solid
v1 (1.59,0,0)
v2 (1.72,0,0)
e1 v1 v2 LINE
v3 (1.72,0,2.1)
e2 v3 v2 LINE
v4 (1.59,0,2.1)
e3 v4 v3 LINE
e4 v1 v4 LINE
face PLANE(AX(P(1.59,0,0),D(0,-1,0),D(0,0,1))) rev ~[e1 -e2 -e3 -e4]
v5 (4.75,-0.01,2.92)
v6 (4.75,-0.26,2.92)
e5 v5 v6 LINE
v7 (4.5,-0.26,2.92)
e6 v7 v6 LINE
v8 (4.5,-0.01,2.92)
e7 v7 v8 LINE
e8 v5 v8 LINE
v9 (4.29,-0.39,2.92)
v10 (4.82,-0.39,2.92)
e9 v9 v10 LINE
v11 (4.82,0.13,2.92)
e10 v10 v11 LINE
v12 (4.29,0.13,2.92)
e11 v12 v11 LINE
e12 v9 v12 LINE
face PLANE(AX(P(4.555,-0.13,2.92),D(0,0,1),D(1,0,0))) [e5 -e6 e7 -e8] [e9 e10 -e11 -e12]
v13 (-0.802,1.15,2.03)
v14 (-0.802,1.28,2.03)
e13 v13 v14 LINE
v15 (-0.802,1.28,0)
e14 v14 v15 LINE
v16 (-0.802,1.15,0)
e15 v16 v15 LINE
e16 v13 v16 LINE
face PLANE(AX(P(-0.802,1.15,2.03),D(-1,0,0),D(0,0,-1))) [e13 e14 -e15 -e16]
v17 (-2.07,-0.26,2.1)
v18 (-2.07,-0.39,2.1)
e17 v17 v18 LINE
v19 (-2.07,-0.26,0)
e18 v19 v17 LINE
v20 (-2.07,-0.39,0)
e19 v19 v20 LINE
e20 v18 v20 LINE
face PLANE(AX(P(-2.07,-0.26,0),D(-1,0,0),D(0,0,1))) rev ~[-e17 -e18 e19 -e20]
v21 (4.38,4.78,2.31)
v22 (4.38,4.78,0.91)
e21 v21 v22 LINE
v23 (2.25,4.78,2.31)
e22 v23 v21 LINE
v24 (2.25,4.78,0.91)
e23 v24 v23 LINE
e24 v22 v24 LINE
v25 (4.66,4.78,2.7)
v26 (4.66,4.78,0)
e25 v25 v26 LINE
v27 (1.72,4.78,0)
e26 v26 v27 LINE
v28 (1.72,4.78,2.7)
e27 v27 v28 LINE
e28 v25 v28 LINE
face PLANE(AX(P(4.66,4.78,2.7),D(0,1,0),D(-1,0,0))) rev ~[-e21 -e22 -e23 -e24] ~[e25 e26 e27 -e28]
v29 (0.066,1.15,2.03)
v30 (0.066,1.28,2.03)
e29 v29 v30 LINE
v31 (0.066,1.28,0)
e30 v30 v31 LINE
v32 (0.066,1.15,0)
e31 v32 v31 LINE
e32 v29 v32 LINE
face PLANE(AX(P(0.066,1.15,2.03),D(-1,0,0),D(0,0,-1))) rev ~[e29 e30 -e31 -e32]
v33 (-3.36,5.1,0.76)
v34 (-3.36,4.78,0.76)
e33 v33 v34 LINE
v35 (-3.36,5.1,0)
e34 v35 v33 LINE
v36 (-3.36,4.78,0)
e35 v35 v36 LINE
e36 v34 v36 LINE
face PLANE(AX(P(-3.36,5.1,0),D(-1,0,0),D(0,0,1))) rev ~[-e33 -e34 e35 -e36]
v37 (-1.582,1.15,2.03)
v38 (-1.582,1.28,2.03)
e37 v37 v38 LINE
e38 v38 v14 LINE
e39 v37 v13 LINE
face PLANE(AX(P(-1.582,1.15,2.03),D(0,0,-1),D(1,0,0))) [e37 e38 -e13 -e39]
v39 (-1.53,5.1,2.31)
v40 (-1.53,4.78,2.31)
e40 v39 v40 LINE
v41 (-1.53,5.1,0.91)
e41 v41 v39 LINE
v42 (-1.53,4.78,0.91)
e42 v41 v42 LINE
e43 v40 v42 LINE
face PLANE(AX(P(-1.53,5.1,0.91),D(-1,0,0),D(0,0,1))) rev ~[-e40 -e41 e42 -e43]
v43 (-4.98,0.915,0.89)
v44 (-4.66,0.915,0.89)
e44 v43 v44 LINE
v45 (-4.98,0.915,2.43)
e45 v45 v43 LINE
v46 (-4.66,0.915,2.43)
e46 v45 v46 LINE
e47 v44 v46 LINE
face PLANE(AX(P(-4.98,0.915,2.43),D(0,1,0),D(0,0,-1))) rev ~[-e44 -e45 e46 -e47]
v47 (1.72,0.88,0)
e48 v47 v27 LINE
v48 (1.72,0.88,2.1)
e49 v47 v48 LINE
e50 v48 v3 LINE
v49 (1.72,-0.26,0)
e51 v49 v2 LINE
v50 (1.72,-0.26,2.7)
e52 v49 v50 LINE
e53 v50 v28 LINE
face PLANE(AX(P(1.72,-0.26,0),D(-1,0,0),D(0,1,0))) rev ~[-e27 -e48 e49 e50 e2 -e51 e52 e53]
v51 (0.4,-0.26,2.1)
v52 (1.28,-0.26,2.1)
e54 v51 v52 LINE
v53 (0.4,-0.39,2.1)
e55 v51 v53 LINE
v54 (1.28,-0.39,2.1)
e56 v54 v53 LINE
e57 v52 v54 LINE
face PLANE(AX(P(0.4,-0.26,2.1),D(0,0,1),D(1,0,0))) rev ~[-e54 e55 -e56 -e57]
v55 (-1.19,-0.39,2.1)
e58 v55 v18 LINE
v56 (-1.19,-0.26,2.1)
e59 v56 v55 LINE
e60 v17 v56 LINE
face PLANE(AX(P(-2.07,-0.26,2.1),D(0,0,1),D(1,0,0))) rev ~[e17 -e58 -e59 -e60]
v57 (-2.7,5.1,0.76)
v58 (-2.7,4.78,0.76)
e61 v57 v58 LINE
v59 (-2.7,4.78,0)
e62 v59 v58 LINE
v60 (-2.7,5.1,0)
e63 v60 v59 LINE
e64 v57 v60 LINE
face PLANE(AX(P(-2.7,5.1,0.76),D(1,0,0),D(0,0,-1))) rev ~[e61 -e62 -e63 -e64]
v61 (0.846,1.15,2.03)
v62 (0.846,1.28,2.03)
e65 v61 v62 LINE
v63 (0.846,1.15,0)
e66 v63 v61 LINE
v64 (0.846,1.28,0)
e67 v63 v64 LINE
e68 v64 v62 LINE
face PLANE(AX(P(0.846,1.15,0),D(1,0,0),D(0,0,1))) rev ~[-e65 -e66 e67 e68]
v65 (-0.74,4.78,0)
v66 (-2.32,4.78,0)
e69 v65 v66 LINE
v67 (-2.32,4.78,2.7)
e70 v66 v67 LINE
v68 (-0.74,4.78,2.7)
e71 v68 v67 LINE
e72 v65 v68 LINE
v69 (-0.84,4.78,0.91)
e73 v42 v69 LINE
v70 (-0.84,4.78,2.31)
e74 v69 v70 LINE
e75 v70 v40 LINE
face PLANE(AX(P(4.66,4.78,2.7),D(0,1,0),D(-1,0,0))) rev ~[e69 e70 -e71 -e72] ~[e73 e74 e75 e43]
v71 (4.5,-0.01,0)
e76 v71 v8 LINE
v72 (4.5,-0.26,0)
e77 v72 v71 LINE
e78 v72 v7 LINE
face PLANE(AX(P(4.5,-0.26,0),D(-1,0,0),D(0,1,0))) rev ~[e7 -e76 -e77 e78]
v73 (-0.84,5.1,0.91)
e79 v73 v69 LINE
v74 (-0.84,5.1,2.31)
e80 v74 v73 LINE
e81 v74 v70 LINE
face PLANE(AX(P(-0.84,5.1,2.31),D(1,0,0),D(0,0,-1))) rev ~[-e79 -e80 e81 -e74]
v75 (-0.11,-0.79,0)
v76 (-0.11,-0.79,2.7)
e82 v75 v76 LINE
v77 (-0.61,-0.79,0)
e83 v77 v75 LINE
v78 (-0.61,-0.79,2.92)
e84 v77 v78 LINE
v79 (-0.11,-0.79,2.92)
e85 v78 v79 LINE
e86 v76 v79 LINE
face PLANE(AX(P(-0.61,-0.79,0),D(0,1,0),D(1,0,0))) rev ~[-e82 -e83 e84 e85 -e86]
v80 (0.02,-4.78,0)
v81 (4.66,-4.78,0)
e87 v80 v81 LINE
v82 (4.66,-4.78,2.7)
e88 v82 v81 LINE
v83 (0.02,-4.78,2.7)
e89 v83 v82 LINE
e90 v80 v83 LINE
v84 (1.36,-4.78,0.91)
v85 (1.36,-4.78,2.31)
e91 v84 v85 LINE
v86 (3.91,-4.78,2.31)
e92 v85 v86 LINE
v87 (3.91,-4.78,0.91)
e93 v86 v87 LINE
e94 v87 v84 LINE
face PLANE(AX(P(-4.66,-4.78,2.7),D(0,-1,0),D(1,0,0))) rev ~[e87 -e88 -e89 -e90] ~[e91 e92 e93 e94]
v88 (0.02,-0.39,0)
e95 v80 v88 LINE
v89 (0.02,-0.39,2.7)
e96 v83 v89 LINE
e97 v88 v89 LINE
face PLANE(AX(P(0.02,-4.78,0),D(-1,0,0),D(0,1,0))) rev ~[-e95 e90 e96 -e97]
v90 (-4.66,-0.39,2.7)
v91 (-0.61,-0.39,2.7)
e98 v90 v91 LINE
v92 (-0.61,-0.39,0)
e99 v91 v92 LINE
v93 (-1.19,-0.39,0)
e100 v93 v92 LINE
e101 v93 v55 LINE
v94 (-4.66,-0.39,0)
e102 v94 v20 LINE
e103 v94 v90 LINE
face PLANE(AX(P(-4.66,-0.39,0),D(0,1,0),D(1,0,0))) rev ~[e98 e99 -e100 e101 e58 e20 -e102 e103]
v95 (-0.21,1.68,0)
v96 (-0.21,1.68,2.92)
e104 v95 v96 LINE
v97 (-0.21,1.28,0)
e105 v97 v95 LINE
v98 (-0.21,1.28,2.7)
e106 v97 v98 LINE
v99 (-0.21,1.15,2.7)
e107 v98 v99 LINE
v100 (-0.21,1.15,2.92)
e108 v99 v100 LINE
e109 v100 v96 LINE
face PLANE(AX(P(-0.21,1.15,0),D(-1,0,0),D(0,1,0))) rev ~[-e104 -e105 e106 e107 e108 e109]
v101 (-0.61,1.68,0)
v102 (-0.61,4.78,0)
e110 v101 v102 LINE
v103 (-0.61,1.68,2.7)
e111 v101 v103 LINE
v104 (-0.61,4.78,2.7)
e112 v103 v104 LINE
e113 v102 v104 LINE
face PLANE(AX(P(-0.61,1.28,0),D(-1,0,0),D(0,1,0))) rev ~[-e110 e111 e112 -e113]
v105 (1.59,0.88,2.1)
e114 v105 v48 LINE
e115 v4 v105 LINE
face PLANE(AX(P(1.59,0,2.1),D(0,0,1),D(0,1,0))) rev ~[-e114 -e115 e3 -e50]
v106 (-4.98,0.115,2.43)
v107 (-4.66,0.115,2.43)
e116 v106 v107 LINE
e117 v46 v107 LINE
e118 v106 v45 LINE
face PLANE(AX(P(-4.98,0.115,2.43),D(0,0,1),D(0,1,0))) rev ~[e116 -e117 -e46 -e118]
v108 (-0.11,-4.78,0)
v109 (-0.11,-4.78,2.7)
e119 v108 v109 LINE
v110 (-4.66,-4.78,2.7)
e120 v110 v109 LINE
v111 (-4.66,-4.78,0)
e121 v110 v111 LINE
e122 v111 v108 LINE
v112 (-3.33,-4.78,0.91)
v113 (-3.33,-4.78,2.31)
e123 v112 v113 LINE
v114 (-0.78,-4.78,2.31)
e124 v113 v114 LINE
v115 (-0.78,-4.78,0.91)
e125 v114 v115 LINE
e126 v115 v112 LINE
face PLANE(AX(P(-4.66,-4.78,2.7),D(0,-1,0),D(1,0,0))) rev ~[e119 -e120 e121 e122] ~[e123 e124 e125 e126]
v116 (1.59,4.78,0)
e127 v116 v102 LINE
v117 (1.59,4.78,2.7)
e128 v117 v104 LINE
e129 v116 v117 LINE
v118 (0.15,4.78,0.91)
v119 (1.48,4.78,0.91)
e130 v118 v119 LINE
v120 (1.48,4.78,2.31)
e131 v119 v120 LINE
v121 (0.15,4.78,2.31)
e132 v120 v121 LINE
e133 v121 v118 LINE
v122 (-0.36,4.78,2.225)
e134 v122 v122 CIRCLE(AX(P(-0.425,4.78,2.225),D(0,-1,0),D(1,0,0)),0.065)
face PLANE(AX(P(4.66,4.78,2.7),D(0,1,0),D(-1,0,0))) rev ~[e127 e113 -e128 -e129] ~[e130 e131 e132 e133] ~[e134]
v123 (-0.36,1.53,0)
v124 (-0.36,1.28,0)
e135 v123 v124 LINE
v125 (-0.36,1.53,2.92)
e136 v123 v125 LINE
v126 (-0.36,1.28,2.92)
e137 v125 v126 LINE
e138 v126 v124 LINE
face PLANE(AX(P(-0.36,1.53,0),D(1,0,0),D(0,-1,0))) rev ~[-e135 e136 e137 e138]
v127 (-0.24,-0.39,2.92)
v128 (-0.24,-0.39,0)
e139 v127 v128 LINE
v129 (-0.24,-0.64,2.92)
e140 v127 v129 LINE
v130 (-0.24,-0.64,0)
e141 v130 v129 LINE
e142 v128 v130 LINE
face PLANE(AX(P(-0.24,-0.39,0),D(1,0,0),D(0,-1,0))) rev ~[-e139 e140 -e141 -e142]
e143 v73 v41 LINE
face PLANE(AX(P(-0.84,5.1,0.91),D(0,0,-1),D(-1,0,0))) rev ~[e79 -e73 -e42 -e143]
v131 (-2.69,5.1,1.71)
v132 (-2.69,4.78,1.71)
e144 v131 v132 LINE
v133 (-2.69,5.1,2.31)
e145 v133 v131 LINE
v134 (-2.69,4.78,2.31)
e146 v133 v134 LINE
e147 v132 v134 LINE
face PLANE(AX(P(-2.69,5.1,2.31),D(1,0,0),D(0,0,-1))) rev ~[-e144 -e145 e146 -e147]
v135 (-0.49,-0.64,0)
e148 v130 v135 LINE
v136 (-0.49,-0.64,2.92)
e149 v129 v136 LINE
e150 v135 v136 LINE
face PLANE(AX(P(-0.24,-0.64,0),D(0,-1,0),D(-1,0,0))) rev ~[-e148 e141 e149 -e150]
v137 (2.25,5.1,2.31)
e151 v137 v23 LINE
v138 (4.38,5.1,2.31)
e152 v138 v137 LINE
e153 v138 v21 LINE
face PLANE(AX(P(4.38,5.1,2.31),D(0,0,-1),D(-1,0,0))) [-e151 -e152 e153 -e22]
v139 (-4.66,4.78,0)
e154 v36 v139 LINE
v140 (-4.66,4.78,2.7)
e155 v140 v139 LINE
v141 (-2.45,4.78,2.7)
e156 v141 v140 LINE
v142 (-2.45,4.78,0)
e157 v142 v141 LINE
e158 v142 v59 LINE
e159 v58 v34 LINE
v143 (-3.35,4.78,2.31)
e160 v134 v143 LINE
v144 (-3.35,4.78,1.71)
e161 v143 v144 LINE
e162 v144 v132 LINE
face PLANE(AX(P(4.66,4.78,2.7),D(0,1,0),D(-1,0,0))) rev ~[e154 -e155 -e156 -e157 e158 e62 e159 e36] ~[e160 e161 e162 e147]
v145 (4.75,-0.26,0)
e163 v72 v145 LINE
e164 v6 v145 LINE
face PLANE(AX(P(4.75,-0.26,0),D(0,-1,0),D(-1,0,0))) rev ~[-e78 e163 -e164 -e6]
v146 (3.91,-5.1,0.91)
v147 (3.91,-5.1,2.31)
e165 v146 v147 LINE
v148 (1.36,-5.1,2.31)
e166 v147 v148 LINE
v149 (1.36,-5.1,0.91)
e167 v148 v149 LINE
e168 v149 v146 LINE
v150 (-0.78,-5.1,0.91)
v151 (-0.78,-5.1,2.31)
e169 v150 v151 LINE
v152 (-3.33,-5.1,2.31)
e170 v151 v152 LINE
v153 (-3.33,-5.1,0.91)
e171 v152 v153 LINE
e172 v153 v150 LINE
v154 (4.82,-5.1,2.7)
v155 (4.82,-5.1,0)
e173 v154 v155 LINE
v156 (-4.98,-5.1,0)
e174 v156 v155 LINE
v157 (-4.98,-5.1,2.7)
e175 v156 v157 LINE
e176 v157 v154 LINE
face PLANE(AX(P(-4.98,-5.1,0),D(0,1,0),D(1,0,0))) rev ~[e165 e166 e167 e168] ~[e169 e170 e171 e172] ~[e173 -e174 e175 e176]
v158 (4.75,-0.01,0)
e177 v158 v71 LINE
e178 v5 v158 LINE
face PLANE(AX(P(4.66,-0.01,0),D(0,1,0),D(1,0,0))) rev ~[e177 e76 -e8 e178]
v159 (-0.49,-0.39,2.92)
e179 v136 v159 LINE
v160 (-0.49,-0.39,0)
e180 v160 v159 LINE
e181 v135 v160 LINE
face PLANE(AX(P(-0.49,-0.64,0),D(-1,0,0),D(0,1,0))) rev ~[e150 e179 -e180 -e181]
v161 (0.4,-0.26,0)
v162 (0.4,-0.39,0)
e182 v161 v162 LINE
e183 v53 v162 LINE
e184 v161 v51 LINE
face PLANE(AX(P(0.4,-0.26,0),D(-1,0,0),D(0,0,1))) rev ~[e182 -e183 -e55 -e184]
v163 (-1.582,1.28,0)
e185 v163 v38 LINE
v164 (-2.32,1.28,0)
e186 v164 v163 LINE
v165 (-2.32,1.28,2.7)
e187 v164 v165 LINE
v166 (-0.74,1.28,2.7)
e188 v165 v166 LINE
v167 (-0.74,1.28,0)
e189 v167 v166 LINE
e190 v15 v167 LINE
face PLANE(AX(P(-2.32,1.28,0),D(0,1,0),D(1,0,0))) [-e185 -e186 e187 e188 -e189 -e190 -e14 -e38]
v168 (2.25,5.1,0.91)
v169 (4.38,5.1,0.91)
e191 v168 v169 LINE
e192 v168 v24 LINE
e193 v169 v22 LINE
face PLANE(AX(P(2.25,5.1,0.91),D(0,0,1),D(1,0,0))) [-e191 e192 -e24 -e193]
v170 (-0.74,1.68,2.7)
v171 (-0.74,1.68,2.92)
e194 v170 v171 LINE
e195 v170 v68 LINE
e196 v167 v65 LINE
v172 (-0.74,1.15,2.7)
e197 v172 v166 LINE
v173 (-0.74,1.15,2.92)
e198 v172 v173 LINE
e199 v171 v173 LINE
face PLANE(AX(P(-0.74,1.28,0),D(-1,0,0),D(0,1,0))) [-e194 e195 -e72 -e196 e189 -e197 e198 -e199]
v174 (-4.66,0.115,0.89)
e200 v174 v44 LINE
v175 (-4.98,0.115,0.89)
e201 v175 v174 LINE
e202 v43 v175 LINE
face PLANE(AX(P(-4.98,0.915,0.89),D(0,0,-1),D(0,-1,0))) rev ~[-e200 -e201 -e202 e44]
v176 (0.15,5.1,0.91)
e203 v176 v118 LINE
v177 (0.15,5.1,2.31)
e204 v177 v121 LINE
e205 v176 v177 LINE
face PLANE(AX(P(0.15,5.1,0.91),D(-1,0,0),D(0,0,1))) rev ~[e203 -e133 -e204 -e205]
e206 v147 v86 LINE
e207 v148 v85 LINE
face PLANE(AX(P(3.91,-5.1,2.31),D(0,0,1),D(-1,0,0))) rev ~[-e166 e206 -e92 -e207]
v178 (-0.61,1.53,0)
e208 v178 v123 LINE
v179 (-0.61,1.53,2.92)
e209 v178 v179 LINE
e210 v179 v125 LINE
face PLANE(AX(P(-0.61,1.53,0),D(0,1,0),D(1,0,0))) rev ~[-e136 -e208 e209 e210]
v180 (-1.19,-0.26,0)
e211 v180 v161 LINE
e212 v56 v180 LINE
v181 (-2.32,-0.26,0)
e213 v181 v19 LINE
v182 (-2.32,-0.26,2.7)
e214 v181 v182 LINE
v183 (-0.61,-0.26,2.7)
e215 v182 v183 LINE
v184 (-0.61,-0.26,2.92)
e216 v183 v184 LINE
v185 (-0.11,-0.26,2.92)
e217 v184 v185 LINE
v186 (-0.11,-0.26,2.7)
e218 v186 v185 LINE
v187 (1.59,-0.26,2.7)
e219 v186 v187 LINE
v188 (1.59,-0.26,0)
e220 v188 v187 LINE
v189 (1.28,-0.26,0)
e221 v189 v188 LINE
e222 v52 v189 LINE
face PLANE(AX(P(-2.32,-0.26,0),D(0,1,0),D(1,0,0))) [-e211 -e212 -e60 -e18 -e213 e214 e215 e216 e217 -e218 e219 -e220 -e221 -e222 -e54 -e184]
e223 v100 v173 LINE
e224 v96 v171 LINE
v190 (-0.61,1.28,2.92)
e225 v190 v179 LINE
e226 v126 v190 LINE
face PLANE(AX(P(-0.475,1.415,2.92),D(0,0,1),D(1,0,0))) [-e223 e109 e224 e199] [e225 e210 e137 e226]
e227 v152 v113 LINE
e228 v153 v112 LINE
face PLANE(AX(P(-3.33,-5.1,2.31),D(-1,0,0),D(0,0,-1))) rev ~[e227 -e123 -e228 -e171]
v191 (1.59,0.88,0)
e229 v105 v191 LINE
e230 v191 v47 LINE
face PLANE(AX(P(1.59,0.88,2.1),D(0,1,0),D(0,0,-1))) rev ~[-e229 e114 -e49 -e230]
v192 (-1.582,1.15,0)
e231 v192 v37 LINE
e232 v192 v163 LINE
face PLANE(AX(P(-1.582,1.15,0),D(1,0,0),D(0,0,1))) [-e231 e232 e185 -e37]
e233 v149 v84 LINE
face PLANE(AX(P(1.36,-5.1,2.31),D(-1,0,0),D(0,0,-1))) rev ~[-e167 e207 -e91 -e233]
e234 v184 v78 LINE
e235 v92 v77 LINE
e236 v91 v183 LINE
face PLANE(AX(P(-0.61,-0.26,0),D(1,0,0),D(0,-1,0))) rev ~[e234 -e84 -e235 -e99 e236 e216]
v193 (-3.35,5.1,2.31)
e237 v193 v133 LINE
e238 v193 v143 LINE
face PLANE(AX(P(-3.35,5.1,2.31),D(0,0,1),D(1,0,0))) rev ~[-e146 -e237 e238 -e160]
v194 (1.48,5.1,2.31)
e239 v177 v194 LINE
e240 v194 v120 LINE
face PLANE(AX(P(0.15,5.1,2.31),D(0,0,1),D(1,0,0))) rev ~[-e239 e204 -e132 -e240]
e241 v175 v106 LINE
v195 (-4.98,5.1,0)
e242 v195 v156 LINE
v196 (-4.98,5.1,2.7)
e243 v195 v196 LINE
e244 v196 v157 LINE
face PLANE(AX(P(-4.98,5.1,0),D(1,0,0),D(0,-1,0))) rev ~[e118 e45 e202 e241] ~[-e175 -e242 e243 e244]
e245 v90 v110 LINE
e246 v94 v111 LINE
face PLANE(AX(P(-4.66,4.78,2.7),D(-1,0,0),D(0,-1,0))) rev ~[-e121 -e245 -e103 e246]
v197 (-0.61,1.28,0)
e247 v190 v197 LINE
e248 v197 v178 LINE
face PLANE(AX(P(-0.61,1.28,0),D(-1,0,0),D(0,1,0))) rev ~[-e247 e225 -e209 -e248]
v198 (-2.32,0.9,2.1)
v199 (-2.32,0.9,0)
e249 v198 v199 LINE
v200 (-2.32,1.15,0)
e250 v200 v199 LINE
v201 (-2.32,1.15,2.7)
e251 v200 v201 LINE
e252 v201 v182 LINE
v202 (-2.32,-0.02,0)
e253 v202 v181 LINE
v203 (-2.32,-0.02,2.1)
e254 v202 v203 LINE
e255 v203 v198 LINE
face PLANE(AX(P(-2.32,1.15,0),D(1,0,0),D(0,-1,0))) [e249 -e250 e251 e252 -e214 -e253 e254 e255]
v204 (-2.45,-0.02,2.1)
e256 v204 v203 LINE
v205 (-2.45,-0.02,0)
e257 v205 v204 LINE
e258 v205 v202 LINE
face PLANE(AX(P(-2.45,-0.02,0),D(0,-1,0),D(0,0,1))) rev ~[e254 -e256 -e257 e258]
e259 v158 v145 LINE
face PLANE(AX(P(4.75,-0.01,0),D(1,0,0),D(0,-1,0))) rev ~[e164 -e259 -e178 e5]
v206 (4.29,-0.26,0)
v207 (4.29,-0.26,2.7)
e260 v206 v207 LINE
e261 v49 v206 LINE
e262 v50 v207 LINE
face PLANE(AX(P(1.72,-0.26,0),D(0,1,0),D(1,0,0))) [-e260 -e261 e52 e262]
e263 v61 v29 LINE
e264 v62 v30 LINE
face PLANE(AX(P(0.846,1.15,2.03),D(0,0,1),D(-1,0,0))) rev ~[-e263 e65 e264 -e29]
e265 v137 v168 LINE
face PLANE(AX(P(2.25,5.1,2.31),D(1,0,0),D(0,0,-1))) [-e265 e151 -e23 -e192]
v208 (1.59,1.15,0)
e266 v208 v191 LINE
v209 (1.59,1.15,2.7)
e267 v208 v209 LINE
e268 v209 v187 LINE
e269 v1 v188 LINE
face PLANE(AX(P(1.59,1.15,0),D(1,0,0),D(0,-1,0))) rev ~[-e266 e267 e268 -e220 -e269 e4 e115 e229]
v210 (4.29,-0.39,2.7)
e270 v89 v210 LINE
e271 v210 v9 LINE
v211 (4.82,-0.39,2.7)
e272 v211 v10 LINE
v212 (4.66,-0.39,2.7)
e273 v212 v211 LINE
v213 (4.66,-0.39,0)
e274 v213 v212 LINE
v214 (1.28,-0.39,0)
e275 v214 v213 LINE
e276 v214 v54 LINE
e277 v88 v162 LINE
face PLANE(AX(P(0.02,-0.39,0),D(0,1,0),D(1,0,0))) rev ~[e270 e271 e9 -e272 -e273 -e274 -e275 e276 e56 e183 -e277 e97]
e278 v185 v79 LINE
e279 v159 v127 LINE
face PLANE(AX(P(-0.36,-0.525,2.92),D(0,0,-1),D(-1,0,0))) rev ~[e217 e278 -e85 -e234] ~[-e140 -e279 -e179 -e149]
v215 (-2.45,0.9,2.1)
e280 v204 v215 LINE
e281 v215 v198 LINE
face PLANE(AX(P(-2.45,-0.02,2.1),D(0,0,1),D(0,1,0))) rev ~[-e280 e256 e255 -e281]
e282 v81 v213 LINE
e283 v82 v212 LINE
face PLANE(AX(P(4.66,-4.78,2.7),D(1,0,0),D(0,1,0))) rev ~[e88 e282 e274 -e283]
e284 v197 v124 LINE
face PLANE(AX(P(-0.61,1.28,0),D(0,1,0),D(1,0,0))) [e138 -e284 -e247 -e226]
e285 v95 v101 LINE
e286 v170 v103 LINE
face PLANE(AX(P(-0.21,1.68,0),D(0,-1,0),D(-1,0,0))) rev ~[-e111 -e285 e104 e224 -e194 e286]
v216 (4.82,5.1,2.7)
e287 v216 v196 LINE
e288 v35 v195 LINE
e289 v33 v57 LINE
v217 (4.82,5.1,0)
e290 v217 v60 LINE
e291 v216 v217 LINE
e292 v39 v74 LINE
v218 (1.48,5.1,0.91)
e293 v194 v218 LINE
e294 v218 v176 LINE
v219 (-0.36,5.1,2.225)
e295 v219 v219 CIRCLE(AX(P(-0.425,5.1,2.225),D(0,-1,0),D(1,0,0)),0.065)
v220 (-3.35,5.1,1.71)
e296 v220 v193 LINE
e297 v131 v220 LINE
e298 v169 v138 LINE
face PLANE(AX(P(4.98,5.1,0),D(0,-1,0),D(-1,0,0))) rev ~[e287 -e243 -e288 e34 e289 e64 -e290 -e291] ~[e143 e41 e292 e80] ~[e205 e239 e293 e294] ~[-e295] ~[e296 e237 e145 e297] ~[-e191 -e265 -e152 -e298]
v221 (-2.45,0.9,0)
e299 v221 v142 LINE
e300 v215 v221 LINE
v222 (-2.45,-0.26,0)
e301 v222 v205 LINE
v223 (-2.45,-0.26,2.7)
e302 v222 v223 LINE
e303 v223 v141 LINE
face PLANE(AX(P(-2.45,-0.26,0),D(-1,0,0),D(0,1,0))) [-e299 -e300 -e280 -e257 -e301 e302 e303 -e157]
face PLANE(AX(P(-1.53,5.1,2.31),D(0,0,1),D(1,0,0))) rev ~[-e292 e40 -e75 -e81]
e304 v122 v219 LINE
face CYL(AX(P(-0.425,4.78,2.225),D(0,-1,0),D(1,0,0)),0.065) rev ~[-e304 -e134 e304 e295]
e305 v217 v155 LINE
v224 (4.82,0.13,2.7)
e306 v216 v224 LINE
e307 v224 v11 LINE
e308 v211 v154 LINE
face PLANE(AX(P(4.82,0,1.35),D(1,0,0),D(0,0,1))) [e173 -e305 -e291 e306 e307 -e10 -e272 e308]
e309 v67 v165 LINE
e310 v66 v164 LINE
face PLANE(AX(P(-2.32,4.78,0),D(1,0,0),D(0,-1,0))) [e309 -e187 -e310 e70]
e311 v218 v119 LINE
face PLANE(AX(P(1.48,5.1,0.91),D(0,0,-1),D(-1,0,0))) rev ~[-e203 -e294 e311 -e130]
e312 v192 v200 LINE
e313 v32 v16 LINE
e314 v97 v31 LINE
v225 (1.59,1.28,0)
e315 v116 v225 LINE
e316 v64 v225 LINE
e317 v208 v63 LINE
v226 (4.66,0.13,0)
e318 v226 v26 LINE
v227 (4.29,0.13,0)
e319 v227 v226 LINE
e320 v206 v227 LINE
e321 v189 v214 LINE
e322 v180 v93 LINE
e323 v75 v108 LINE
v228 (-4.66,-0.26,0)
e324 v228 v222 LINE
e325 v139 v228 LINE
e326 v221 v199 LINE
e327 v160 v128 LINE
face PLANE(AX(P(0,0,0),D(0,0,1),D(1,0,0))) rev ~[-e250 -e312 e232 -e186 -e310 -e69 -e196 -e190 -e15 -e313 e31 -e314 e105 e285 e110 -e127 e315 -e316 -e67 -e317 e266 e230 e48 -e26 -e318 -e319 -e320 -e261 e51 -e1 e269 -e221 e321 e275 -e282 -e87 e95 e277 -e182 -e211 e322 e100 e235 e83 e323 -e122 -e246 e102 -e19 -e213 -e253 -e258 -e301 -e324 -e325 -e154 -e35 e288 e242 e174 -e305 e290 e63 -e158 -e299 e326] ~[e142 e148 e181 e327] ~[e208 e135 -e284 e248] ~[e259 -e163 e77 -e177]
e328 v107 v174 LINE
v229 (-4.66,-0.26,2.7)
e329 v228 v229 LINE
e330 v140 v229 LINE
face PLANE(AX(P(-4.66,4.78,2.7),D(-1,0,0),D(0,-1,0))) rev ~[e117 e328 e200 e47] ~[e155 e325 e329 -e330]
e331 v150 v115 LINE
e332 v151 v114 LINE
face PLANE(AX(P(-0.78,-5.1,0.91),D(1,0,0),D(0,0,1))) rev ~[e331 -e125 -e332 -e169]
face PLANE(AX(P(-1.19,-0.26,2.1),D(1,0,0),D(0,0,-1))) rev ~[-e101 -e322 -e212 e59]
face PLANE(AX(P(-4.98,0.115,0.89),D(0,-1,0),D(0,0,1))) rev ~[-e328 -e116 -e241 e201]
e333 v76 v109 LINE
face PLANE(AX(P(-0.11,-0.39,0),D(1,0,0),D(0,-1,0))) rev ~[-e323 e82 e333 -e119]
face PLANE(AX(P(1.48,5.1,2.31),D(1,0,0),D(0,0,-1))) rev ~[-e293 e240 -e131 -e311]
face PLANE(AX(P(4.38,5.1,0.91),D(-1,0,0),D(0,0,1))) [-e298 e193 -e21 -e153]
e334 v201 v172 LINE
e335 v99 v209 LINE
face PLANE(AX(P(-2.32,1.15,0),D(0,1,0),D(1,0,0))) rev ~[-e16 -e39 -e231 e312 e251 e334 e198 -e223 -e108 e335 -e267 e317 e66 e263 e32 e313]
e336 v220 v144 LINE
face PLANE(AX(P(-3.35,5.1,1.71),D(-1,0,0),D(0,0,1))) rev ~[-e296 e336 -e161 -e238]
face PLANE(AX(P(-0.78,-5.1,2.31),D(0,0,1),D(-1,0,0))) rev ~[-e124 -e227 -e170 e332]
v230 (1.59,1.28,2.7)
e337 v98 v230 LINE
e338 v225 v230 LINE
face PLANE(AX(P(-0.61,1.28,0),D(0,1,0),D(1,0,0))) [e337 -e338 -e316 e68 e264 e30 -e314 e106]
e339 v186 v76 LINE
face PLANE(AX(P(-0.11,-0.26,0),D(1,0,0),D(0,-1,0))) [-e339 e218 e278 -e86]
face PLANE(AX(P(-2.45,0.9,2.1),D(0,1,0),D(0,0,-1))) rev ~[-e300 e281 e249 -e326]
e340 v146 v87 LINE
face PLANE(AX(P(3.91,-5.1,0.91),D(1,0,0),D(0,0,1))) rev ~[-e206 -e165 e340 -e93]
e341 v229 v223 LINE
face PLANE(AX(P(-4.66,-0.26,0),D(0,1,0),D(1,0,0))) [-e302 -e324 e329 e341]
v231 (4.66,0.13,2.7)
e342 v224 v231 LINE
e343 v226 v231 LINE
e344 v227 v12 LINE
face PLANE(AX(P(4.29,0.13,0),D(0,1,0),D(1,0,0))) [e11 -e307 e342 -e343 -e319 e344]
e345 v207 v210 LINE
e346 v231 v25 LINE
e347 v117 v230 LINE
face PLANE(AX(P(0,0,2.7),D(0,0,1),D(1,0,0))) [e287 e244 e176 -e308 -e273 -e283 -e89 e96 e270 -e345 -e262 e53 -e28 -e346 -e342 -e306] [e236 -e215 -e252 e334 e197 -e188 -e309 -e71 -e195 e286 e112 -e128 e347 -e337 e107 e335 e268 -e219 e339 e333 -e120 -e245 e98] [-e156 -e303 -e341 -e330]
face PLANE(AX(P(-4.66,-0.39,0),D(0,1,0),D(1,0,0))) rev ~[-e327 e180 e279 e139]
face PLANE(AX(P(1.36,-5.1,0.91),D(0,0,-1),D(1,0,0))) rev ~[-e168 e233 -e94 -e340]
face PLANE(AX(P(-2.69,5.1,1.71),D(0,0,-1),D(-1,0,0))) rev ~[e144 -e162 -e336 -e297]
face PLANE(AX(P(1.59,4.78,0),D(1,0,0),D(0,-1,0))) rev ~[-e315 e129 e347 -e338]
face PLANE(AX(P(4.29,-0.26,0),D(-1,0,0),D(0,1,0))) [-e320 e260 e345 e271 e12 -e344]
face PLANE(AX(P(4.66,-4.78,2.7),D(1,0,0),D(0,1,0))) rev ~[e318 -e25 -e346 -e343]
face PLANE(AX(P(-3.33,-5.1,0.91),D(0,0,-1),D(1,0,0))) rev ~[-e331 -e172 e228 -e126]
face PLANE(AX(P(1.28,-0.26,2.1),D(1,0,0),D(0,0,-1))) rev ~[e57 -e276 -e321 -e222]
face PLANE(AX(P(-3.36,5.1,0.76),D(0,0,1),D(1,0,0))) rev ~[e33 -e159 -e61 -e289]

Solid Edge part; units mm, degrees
sketch "Sketch1" plane through (0, 0, 0) normal (0, 0, 1) x (1, 0, 0)
  line L0 (-4.98, -5.1) -> (4.98, -5.1)
  line L1 (4.98, -5.1) -> (4.98, 5.1)
  line L2 (4.98, 5.1) -> (-4.98, 5.1)
  line L3 (-4.98, 5.1) -> (-4.98, -5.1)
  dimension "D1" = 9.96
  dimension "D2" = 10.2
extrude "Protrusion1" add sketch "Sketch1" along normal blind 2.7
sketch "Sketch2" plane through (0, 0, 2.7) normal (0, 0, 1) x (1, 0, 0)
  line L0 (-4.66, 4.78) -> (-4.66, -4.78)
  line L1 (-4.66, -4.78) -> (4.66, -4.78)
  line L2 (4.66, -4.78) -> (4.66, 4.78)
  line L3 (4.66, 4.78) -> (-4.66, 4.78)
extrude "Cutout1" cut sketch "Sketch2" against normal through all
sketch "Sketch3" plane through (4.98, 0, 1.35) normal (1, 0, 0) x (0, 1, 0)
  line L0 (-5.1, 1.35) -> (-5.1, -1.35)
  line L1 (5.1, -1.35) -> (-5.1, -1.35)
  line L2 (5.1, 1.35) -> (5.1, -1.35)
  line L3 (5.1, 1.35) -> (-5.1, 1.35)
extrude "Ausschnitt_2" cut sketch "Sketch3" against normal blind 0.16
sketch "Sketch4" plane through (0, 0, 0) normal (0, 0, 1) x (1, 0, 0)
  line L0 (-2.32, -0.26) -> (1.59, -0.26)
  line L1 (1.59, 1.15) -> (1.59, -0.26)
  line L2 (-2.32, 1.15) -> (1.59, 1.15)
  line L3 (-2.32, 1.15) -> (-2.32, -0.26)
  line L4 (-4.66, -0.26) -> (-4.66, -0.39)
  line L5 (-4.66, -0.39) -> (-0.11, -0.39)
  line L6 (-0.11, -0.39) -> (-0.11, -4.78)
  line L7 (-0.11, -4.78) -> (0.02, -4.78)
  line L8 (0.02, -4.78) -> (0.02, -0.39)
  line L9 (0.02, -0.39) -> (4.66, -0.39)
  line L10 (4.66, -0.39) -> (4.66, -0.26)
  line L11 (1.72, -0.26) -> (4.66, -0.26)
  line L12 (1.72, -0.26) -> (1.72, 4.78)
  line L13 (1.72, 4.78) -> (1.59, 4.78)
  line L14 (1.59, 4.78) -> (1.59, 1.28)
  line L15 (-0.61, 1.28) -> (1.59, 1.28)
  line L16 (-0.61, 1.28) -> (-0.61, 4.78)
  line L17 (-0.61, 4.78) -> (-0.74, 4.78)
  line L18 (-0.74, 1.28) -> (-0.74, 4.78)
  line L19 (-2.32, 1.28) -> (-0.74, 1.28)
  line L20 (-2.32, 4.78) -> (-2.32, 1.28)
  line L21 (-2.32, 4.78) -> (-2.45, 4.78)
  line L22 (-2.45, -0.26) -> (-2.45, 4.78)
  line L23 (-4.66, -0.26) -> (-2.45, -0.26)
  dimension "D1" = 0.13
  dimension "D2" = 4.64
  dimension "D3" = 4.39
  dimension "D4" = 2.94
  dimension "D5" = 2.2
  dimension "D6" = 1.58
  dimension "D7" = 3.5
  dimension "D8" = 2.21
extrude "Protrusion2" add sketch "Sketch4" along normal up to surface (2.7 mm away)
sketch "Sketch5" plane through (0, 0, 0) normal (0, 0, 1) x (1, 0, 0)
  line L0 (-0.61, -0.26) -> (-0.11, -0.26)
  line L1 (-0.11, -0.26) -> (-0.11, -0.79)
  line L2 (-0.61, -0.79) -> (-0.11, -0.79)
  line L3 (-0.61, -0.26) -> (-0.61, -0.79)
  line L4 (-0.49, -0.39) -> (-0.24, -0.39)
  line L5 (-0.24, -0.39) -> (-0.24, -0.64)
  line L6 (-0.24, -0.64) -> (-0.49, -0.64)
  line L7 (-0.49, -0.64) -> (-0.49, -0.39)
  line L8 (-0.36, 1.28) -> (-0.61, 1.28)
  line L9 (-0.61, 1.28) -> (-0.61, 1.53)
  line L10 (-0.61, 1.53) -> (-0.36, 1.53)
  line L11 (-0.36, 1.53) -> (-0.36, 1.28)
  line L12 (-0.21, 1.15) -> (-0.21, 1.68)
  line L13 (-0.21, 1.68) -> (-0.74, 1.68)
  line L14 (-0.74, 1.68) -> (-0.74, 1.15)
  line L15 (-0.21, 1.15) -> (-0.74, 1.15)
  line L16 (4.5, -0.26) -> (4.29, -0.26)
  line L17 (4.29, -0.26) -> (4.29, 0.13)
  line L18 (4.29, 0.13) -> (4.66, 0.13)
  line L19 (4.66, -0.01) -> (4.66, 0.13)
  line L20 (4.5, -0.01) -> (4.66, -0.01)
  line L21 (4.5, -0.26) -> (4.5, -0.01)
  dimension "D1" = 0.25
  dimension "D2" = 0.25
  dimension "D3" = 0.25
  dimension "D4" = 0.16
  dimension "D5" = 0.39
  dimension "D6" = 0.37
  dimension "D7" = 0.4
  dimension "D8" = 0.4
  dimension "D9" = 0.5
  dimension "D10" = 0.4
extrude "Schornstein" add sketch "Sketch5" along normal blind 2.92
sketch "Sketch6" plane through (-0.08, 0, 2.7) normal (0, 0, 1) x (1, 0, 0)
  line L0 (4.37, -0.39) -> (4.9, -0.39)
  line L1 (4.9, -0.39) -> (4.9, 0.13)
  line L2 (4.9, 0.13) -> (4.37, 0.13)
  line L3 (4.37, 0.13) -> (4.37, -0.39)
  line L4 (4.58, -0.26) -> (4.58, -0.01)
  line L5 (4.58, -0.01) -> (4.83, -0.01)
  line L6 (4.83, -0.01) -> (4.83, -0.26)
  line L7 (4.83, -0.26) -> (4.58, -0.26)
extrude "Protrusion3" add sketch "Sketch6" along normal up to surface (0.22 mm away)
sketch "Sketch7" plane through (0, 0, 0) normal (0, 0, 1) x (1, 0, 0)
  line L0 (4.66, -0.26) -> (4.66, -0.01)
  line L1 (4.66, -0.01) -> (4.75, -0.01)
  line L2 (4.75, -0.01) -> (4.75, -0.26)
  line L3 (4.75, -0.26) -> (4.66, -0.26)
extrude "Cutout2" cut sketch "Sketch7" along normal through all
sketch "Sketch8" plane through (-0.08, -5.1, 1.35) normal (0, -1, 0) x (1, 0, 0)
  line L0 (1.44, -0.44) -> (3.99, -0.44)
  line L1 (3.99, -0.44) -> (3.99, 0.96)
  line L2 (3.99, 0.96) -> (1.44, 0.96)
  line L3 (1.44, 0.96) -> (1.44, -0.44)
  line L4 (-3.25, -0.44) -> (-0.7, -0.44)
  line L5 (-0.7, -0.44) -> (-0.7, 0.96)
  line L6 (-0.7, 0.96) -> (-3.25, 0.96)
  line L7 (-3.25, 0.96) -> (-3.25, -0.44)
  dimension "D1" = 2.55
  dimension "D2" = 1.4
  dimension "D3" = 0.91
  dimension "D4" = 1.33
  dimension "D5" = 0.75
extrude "Cutout3" cut sketch "Sketch8" against normal up to next
sketch "Sketch9" plane through (-0.08, 5.1, 1.35) normal (0, 1, 0) x (-1, 0, 0)
  line L0 (-1.56, -0.44) -> (-0.23, -0.44)
  line L1 (-0.23, -0.44) -> (-0.23, 0.96)
  line L2 (-0.23, 0.96) -> (-1.56, 0.96)
  line L3 (-1.56, 0.96) -> (-1.56, -0.44)
  line L4 (0.76, -0.44) -> (1.45, -0.44)
  line L5 (1.45, -0.44) -> (1.45, 0.96)
  line L6 (1.45, 0.96) -> (0.76, 0.96)
  line L7 (0.76, 0.96) -> (0.76, -0.44)
  line L8 (2.61, 0.36) -> (3.27, 0.36)
  line L9 (3.27, 0.36) -> (3.27, 0.96)
  line L10 (3.27, 0.96) -> (2.61, 0.96)
  line L11 (2.61, 0.96) -> (2.61, 0.36)
  line L12 (-2.33, -0.44) -> (-4.46, -0.44)
  line L13 (-4.46, -0.44) -> (-4.46, 0.96)
  line L14 (-4.46, 0.96) -> (-2.33, 0.96)
  line L15 (-2.33, 0.96) -> (-2.33, -0.44)
  dimension "D1" = 2.13
  dimension "D2" = 1.33
  dimension "D3" = 0.69
  dimension "D4" = 1.4
  dimension "D5" = 0.91
  dimension "D6" = 0.66
  dimension "D7" = 0.6
  dimension "D8" = 0.24
  dimension "D9" = 0.11
  dimension "D10" = 0.28
  dimension "D11" = 0.1
extrude "Cutout4" cut sketch "Sketch9" against normal up to next
sketch "Sketch10" plane through (-4.98, 0, 1.35) normal (-1, 0, 0) x (0, -1, 0)
  line L0 (-0.915, -0.46) -> (-0.115, -0.46)
  line L1 (-0.115, -0.46) -> (-0.115, 1.08)
  line L2 (-0.115, 1.08) -> (-0.915, 1.08)
  line L3 (-0.915, 1.08) -> (-0.915, -0.46)
  dimension "D1" = 1.54
  dimension "D2" = 0.89
  dimension "D3" = 0.8
  dimension "D4" = 4.585
extrude "Cutout5" cut sketch "Sketch10" against normal up to next
sketch "Sketch11" plane through (-0.38, -0.26, 1.46) normal (0, 1, 0) x (-1, 0, 0)
  line L0 (-0.78, -1.46) -> (-0.78, 0.64)
  line L1 (-0.78, 0.64) -> (-1.66, 0.64)
  line L2 (-1.66, 0.64) -> (-1.66, -1.46)
  line L3 (-1.66, -1.46) -> (-0.78, -1.46)
  line L4 (0.81, -1.46) -> (1.69, -1.46)
  line L5 (1.69, -1.46) -> (1.69, 0.64)
  line L6 (1.69, 0.64) -> (0.81, 0.64)
  line L7 (0.81, 0.64) -> (0.81, -1.46)
  dimension "D1" = 0.88
  dimension "D2" = 2.1
  dimension "D3" = 3.03
  dimension "D4" = 3.82
extrude "Cutout6" cut sketch "Sketch11" against normal up to next
sketch "Sketch12" plane through (-0.38, 1.15, 1.46) normal (0, -1, 0) x (1, 0, 0)
  line L0 (1.226, -1.46) -> (1.226, 0.57)
  line L1 (1.226, 0.57) -> (0.446, 0.57)
  line L2 (0.446, 0.57) -> (0.446, -1.46)
  line L3 (0.446, -1.46) -> (1.226, -1.46)
  line L4 (-1.202, -1.46) -> (-0.422, -1.46)
  line L5 (-0.422, 0.57) -> (-0.422, -1.46)
  line L6 (-1.202, 0.57) -> (-0.422, 0.57)
  line L7 (-1.202, -1.46) -> (-1.202, 0.57)
  dimension "D1" = 0.78
  dimension "D2" = 2.03
  dimension "D3" = 1.134
  dimension "D4" = 0.452
extrude "Cutout7" cut sketch "Sketch12" against normal up to next
sketch "Sketch13" plane through (1.59, 0.435, 1.35) normal (-1, 0, 0) x (0, -1, 0)
  line L0 (0.435, -1.35) -> (-0.445, -1.35)
  line L1 (-0.445, 0.75) -> (-0.445, -1.35)
  line L2 (0.435, 0.75) -> (-0.445, 0.75)
  line L3 (0.435, -1.35) -> (0.435, 0.75)
  dimension "D1" = 0.88
  dimension "D2" = 2.1
  dimension "D3" = 0.7
extrude "Cutout8" cut sketch "Sketch13" against normal up to next
sketch "Sketch14" plane through (-2.45, 2.255, 1.35) normal (-1, 0, 0) x (0, -1, 0)
  line L0 (2.275, -1.35) -> (2.275, 0.75)
  line L1 (2.275, 0.75) -> (1.355, 0.75)
  line L2 (1.355, 0.75) -> (1.355, -1.35)
  line L3 (2.275, -1.35) -> (1.355, -1.35)
  dimension "D1" = 0.24
  dimension "D2" = 0.92
  dimension "D3" = 2.1
extrude "Cutout9" cut sketch "Sketch14" against normal up to next
sketch "Sketch15" plane through (-0.08, 5.1, 1.35) normal (0, 1, 0) x (-1, 0, 0)
  line L0 (3.28, -1.35) -> (3.28, -0.59)
  line L1 (3.28, -0.59) -> (2.62, -0.59)
  line L2 (2.62, -0.59) -> (2.62, -1.35)
  line L3 (3.28, -1.35) -> (2.62, -1.35)
extrude "Cutout10" cut sketch "Sketch15" against normal up to next
sketch "Sketch16" plane through (0.49, 4.78, 1.35) normal (0, -1, 0) x (1, 0, 0)
  circle A0 centre (-0.915, 0.875) radius 0.065
  dimension "D1" = 0.13
  dimension "D2" = 0.185
  dimension "D3" = 2.225
extrude "Cutout11" cut sketch "Sketch16" against normal through all
